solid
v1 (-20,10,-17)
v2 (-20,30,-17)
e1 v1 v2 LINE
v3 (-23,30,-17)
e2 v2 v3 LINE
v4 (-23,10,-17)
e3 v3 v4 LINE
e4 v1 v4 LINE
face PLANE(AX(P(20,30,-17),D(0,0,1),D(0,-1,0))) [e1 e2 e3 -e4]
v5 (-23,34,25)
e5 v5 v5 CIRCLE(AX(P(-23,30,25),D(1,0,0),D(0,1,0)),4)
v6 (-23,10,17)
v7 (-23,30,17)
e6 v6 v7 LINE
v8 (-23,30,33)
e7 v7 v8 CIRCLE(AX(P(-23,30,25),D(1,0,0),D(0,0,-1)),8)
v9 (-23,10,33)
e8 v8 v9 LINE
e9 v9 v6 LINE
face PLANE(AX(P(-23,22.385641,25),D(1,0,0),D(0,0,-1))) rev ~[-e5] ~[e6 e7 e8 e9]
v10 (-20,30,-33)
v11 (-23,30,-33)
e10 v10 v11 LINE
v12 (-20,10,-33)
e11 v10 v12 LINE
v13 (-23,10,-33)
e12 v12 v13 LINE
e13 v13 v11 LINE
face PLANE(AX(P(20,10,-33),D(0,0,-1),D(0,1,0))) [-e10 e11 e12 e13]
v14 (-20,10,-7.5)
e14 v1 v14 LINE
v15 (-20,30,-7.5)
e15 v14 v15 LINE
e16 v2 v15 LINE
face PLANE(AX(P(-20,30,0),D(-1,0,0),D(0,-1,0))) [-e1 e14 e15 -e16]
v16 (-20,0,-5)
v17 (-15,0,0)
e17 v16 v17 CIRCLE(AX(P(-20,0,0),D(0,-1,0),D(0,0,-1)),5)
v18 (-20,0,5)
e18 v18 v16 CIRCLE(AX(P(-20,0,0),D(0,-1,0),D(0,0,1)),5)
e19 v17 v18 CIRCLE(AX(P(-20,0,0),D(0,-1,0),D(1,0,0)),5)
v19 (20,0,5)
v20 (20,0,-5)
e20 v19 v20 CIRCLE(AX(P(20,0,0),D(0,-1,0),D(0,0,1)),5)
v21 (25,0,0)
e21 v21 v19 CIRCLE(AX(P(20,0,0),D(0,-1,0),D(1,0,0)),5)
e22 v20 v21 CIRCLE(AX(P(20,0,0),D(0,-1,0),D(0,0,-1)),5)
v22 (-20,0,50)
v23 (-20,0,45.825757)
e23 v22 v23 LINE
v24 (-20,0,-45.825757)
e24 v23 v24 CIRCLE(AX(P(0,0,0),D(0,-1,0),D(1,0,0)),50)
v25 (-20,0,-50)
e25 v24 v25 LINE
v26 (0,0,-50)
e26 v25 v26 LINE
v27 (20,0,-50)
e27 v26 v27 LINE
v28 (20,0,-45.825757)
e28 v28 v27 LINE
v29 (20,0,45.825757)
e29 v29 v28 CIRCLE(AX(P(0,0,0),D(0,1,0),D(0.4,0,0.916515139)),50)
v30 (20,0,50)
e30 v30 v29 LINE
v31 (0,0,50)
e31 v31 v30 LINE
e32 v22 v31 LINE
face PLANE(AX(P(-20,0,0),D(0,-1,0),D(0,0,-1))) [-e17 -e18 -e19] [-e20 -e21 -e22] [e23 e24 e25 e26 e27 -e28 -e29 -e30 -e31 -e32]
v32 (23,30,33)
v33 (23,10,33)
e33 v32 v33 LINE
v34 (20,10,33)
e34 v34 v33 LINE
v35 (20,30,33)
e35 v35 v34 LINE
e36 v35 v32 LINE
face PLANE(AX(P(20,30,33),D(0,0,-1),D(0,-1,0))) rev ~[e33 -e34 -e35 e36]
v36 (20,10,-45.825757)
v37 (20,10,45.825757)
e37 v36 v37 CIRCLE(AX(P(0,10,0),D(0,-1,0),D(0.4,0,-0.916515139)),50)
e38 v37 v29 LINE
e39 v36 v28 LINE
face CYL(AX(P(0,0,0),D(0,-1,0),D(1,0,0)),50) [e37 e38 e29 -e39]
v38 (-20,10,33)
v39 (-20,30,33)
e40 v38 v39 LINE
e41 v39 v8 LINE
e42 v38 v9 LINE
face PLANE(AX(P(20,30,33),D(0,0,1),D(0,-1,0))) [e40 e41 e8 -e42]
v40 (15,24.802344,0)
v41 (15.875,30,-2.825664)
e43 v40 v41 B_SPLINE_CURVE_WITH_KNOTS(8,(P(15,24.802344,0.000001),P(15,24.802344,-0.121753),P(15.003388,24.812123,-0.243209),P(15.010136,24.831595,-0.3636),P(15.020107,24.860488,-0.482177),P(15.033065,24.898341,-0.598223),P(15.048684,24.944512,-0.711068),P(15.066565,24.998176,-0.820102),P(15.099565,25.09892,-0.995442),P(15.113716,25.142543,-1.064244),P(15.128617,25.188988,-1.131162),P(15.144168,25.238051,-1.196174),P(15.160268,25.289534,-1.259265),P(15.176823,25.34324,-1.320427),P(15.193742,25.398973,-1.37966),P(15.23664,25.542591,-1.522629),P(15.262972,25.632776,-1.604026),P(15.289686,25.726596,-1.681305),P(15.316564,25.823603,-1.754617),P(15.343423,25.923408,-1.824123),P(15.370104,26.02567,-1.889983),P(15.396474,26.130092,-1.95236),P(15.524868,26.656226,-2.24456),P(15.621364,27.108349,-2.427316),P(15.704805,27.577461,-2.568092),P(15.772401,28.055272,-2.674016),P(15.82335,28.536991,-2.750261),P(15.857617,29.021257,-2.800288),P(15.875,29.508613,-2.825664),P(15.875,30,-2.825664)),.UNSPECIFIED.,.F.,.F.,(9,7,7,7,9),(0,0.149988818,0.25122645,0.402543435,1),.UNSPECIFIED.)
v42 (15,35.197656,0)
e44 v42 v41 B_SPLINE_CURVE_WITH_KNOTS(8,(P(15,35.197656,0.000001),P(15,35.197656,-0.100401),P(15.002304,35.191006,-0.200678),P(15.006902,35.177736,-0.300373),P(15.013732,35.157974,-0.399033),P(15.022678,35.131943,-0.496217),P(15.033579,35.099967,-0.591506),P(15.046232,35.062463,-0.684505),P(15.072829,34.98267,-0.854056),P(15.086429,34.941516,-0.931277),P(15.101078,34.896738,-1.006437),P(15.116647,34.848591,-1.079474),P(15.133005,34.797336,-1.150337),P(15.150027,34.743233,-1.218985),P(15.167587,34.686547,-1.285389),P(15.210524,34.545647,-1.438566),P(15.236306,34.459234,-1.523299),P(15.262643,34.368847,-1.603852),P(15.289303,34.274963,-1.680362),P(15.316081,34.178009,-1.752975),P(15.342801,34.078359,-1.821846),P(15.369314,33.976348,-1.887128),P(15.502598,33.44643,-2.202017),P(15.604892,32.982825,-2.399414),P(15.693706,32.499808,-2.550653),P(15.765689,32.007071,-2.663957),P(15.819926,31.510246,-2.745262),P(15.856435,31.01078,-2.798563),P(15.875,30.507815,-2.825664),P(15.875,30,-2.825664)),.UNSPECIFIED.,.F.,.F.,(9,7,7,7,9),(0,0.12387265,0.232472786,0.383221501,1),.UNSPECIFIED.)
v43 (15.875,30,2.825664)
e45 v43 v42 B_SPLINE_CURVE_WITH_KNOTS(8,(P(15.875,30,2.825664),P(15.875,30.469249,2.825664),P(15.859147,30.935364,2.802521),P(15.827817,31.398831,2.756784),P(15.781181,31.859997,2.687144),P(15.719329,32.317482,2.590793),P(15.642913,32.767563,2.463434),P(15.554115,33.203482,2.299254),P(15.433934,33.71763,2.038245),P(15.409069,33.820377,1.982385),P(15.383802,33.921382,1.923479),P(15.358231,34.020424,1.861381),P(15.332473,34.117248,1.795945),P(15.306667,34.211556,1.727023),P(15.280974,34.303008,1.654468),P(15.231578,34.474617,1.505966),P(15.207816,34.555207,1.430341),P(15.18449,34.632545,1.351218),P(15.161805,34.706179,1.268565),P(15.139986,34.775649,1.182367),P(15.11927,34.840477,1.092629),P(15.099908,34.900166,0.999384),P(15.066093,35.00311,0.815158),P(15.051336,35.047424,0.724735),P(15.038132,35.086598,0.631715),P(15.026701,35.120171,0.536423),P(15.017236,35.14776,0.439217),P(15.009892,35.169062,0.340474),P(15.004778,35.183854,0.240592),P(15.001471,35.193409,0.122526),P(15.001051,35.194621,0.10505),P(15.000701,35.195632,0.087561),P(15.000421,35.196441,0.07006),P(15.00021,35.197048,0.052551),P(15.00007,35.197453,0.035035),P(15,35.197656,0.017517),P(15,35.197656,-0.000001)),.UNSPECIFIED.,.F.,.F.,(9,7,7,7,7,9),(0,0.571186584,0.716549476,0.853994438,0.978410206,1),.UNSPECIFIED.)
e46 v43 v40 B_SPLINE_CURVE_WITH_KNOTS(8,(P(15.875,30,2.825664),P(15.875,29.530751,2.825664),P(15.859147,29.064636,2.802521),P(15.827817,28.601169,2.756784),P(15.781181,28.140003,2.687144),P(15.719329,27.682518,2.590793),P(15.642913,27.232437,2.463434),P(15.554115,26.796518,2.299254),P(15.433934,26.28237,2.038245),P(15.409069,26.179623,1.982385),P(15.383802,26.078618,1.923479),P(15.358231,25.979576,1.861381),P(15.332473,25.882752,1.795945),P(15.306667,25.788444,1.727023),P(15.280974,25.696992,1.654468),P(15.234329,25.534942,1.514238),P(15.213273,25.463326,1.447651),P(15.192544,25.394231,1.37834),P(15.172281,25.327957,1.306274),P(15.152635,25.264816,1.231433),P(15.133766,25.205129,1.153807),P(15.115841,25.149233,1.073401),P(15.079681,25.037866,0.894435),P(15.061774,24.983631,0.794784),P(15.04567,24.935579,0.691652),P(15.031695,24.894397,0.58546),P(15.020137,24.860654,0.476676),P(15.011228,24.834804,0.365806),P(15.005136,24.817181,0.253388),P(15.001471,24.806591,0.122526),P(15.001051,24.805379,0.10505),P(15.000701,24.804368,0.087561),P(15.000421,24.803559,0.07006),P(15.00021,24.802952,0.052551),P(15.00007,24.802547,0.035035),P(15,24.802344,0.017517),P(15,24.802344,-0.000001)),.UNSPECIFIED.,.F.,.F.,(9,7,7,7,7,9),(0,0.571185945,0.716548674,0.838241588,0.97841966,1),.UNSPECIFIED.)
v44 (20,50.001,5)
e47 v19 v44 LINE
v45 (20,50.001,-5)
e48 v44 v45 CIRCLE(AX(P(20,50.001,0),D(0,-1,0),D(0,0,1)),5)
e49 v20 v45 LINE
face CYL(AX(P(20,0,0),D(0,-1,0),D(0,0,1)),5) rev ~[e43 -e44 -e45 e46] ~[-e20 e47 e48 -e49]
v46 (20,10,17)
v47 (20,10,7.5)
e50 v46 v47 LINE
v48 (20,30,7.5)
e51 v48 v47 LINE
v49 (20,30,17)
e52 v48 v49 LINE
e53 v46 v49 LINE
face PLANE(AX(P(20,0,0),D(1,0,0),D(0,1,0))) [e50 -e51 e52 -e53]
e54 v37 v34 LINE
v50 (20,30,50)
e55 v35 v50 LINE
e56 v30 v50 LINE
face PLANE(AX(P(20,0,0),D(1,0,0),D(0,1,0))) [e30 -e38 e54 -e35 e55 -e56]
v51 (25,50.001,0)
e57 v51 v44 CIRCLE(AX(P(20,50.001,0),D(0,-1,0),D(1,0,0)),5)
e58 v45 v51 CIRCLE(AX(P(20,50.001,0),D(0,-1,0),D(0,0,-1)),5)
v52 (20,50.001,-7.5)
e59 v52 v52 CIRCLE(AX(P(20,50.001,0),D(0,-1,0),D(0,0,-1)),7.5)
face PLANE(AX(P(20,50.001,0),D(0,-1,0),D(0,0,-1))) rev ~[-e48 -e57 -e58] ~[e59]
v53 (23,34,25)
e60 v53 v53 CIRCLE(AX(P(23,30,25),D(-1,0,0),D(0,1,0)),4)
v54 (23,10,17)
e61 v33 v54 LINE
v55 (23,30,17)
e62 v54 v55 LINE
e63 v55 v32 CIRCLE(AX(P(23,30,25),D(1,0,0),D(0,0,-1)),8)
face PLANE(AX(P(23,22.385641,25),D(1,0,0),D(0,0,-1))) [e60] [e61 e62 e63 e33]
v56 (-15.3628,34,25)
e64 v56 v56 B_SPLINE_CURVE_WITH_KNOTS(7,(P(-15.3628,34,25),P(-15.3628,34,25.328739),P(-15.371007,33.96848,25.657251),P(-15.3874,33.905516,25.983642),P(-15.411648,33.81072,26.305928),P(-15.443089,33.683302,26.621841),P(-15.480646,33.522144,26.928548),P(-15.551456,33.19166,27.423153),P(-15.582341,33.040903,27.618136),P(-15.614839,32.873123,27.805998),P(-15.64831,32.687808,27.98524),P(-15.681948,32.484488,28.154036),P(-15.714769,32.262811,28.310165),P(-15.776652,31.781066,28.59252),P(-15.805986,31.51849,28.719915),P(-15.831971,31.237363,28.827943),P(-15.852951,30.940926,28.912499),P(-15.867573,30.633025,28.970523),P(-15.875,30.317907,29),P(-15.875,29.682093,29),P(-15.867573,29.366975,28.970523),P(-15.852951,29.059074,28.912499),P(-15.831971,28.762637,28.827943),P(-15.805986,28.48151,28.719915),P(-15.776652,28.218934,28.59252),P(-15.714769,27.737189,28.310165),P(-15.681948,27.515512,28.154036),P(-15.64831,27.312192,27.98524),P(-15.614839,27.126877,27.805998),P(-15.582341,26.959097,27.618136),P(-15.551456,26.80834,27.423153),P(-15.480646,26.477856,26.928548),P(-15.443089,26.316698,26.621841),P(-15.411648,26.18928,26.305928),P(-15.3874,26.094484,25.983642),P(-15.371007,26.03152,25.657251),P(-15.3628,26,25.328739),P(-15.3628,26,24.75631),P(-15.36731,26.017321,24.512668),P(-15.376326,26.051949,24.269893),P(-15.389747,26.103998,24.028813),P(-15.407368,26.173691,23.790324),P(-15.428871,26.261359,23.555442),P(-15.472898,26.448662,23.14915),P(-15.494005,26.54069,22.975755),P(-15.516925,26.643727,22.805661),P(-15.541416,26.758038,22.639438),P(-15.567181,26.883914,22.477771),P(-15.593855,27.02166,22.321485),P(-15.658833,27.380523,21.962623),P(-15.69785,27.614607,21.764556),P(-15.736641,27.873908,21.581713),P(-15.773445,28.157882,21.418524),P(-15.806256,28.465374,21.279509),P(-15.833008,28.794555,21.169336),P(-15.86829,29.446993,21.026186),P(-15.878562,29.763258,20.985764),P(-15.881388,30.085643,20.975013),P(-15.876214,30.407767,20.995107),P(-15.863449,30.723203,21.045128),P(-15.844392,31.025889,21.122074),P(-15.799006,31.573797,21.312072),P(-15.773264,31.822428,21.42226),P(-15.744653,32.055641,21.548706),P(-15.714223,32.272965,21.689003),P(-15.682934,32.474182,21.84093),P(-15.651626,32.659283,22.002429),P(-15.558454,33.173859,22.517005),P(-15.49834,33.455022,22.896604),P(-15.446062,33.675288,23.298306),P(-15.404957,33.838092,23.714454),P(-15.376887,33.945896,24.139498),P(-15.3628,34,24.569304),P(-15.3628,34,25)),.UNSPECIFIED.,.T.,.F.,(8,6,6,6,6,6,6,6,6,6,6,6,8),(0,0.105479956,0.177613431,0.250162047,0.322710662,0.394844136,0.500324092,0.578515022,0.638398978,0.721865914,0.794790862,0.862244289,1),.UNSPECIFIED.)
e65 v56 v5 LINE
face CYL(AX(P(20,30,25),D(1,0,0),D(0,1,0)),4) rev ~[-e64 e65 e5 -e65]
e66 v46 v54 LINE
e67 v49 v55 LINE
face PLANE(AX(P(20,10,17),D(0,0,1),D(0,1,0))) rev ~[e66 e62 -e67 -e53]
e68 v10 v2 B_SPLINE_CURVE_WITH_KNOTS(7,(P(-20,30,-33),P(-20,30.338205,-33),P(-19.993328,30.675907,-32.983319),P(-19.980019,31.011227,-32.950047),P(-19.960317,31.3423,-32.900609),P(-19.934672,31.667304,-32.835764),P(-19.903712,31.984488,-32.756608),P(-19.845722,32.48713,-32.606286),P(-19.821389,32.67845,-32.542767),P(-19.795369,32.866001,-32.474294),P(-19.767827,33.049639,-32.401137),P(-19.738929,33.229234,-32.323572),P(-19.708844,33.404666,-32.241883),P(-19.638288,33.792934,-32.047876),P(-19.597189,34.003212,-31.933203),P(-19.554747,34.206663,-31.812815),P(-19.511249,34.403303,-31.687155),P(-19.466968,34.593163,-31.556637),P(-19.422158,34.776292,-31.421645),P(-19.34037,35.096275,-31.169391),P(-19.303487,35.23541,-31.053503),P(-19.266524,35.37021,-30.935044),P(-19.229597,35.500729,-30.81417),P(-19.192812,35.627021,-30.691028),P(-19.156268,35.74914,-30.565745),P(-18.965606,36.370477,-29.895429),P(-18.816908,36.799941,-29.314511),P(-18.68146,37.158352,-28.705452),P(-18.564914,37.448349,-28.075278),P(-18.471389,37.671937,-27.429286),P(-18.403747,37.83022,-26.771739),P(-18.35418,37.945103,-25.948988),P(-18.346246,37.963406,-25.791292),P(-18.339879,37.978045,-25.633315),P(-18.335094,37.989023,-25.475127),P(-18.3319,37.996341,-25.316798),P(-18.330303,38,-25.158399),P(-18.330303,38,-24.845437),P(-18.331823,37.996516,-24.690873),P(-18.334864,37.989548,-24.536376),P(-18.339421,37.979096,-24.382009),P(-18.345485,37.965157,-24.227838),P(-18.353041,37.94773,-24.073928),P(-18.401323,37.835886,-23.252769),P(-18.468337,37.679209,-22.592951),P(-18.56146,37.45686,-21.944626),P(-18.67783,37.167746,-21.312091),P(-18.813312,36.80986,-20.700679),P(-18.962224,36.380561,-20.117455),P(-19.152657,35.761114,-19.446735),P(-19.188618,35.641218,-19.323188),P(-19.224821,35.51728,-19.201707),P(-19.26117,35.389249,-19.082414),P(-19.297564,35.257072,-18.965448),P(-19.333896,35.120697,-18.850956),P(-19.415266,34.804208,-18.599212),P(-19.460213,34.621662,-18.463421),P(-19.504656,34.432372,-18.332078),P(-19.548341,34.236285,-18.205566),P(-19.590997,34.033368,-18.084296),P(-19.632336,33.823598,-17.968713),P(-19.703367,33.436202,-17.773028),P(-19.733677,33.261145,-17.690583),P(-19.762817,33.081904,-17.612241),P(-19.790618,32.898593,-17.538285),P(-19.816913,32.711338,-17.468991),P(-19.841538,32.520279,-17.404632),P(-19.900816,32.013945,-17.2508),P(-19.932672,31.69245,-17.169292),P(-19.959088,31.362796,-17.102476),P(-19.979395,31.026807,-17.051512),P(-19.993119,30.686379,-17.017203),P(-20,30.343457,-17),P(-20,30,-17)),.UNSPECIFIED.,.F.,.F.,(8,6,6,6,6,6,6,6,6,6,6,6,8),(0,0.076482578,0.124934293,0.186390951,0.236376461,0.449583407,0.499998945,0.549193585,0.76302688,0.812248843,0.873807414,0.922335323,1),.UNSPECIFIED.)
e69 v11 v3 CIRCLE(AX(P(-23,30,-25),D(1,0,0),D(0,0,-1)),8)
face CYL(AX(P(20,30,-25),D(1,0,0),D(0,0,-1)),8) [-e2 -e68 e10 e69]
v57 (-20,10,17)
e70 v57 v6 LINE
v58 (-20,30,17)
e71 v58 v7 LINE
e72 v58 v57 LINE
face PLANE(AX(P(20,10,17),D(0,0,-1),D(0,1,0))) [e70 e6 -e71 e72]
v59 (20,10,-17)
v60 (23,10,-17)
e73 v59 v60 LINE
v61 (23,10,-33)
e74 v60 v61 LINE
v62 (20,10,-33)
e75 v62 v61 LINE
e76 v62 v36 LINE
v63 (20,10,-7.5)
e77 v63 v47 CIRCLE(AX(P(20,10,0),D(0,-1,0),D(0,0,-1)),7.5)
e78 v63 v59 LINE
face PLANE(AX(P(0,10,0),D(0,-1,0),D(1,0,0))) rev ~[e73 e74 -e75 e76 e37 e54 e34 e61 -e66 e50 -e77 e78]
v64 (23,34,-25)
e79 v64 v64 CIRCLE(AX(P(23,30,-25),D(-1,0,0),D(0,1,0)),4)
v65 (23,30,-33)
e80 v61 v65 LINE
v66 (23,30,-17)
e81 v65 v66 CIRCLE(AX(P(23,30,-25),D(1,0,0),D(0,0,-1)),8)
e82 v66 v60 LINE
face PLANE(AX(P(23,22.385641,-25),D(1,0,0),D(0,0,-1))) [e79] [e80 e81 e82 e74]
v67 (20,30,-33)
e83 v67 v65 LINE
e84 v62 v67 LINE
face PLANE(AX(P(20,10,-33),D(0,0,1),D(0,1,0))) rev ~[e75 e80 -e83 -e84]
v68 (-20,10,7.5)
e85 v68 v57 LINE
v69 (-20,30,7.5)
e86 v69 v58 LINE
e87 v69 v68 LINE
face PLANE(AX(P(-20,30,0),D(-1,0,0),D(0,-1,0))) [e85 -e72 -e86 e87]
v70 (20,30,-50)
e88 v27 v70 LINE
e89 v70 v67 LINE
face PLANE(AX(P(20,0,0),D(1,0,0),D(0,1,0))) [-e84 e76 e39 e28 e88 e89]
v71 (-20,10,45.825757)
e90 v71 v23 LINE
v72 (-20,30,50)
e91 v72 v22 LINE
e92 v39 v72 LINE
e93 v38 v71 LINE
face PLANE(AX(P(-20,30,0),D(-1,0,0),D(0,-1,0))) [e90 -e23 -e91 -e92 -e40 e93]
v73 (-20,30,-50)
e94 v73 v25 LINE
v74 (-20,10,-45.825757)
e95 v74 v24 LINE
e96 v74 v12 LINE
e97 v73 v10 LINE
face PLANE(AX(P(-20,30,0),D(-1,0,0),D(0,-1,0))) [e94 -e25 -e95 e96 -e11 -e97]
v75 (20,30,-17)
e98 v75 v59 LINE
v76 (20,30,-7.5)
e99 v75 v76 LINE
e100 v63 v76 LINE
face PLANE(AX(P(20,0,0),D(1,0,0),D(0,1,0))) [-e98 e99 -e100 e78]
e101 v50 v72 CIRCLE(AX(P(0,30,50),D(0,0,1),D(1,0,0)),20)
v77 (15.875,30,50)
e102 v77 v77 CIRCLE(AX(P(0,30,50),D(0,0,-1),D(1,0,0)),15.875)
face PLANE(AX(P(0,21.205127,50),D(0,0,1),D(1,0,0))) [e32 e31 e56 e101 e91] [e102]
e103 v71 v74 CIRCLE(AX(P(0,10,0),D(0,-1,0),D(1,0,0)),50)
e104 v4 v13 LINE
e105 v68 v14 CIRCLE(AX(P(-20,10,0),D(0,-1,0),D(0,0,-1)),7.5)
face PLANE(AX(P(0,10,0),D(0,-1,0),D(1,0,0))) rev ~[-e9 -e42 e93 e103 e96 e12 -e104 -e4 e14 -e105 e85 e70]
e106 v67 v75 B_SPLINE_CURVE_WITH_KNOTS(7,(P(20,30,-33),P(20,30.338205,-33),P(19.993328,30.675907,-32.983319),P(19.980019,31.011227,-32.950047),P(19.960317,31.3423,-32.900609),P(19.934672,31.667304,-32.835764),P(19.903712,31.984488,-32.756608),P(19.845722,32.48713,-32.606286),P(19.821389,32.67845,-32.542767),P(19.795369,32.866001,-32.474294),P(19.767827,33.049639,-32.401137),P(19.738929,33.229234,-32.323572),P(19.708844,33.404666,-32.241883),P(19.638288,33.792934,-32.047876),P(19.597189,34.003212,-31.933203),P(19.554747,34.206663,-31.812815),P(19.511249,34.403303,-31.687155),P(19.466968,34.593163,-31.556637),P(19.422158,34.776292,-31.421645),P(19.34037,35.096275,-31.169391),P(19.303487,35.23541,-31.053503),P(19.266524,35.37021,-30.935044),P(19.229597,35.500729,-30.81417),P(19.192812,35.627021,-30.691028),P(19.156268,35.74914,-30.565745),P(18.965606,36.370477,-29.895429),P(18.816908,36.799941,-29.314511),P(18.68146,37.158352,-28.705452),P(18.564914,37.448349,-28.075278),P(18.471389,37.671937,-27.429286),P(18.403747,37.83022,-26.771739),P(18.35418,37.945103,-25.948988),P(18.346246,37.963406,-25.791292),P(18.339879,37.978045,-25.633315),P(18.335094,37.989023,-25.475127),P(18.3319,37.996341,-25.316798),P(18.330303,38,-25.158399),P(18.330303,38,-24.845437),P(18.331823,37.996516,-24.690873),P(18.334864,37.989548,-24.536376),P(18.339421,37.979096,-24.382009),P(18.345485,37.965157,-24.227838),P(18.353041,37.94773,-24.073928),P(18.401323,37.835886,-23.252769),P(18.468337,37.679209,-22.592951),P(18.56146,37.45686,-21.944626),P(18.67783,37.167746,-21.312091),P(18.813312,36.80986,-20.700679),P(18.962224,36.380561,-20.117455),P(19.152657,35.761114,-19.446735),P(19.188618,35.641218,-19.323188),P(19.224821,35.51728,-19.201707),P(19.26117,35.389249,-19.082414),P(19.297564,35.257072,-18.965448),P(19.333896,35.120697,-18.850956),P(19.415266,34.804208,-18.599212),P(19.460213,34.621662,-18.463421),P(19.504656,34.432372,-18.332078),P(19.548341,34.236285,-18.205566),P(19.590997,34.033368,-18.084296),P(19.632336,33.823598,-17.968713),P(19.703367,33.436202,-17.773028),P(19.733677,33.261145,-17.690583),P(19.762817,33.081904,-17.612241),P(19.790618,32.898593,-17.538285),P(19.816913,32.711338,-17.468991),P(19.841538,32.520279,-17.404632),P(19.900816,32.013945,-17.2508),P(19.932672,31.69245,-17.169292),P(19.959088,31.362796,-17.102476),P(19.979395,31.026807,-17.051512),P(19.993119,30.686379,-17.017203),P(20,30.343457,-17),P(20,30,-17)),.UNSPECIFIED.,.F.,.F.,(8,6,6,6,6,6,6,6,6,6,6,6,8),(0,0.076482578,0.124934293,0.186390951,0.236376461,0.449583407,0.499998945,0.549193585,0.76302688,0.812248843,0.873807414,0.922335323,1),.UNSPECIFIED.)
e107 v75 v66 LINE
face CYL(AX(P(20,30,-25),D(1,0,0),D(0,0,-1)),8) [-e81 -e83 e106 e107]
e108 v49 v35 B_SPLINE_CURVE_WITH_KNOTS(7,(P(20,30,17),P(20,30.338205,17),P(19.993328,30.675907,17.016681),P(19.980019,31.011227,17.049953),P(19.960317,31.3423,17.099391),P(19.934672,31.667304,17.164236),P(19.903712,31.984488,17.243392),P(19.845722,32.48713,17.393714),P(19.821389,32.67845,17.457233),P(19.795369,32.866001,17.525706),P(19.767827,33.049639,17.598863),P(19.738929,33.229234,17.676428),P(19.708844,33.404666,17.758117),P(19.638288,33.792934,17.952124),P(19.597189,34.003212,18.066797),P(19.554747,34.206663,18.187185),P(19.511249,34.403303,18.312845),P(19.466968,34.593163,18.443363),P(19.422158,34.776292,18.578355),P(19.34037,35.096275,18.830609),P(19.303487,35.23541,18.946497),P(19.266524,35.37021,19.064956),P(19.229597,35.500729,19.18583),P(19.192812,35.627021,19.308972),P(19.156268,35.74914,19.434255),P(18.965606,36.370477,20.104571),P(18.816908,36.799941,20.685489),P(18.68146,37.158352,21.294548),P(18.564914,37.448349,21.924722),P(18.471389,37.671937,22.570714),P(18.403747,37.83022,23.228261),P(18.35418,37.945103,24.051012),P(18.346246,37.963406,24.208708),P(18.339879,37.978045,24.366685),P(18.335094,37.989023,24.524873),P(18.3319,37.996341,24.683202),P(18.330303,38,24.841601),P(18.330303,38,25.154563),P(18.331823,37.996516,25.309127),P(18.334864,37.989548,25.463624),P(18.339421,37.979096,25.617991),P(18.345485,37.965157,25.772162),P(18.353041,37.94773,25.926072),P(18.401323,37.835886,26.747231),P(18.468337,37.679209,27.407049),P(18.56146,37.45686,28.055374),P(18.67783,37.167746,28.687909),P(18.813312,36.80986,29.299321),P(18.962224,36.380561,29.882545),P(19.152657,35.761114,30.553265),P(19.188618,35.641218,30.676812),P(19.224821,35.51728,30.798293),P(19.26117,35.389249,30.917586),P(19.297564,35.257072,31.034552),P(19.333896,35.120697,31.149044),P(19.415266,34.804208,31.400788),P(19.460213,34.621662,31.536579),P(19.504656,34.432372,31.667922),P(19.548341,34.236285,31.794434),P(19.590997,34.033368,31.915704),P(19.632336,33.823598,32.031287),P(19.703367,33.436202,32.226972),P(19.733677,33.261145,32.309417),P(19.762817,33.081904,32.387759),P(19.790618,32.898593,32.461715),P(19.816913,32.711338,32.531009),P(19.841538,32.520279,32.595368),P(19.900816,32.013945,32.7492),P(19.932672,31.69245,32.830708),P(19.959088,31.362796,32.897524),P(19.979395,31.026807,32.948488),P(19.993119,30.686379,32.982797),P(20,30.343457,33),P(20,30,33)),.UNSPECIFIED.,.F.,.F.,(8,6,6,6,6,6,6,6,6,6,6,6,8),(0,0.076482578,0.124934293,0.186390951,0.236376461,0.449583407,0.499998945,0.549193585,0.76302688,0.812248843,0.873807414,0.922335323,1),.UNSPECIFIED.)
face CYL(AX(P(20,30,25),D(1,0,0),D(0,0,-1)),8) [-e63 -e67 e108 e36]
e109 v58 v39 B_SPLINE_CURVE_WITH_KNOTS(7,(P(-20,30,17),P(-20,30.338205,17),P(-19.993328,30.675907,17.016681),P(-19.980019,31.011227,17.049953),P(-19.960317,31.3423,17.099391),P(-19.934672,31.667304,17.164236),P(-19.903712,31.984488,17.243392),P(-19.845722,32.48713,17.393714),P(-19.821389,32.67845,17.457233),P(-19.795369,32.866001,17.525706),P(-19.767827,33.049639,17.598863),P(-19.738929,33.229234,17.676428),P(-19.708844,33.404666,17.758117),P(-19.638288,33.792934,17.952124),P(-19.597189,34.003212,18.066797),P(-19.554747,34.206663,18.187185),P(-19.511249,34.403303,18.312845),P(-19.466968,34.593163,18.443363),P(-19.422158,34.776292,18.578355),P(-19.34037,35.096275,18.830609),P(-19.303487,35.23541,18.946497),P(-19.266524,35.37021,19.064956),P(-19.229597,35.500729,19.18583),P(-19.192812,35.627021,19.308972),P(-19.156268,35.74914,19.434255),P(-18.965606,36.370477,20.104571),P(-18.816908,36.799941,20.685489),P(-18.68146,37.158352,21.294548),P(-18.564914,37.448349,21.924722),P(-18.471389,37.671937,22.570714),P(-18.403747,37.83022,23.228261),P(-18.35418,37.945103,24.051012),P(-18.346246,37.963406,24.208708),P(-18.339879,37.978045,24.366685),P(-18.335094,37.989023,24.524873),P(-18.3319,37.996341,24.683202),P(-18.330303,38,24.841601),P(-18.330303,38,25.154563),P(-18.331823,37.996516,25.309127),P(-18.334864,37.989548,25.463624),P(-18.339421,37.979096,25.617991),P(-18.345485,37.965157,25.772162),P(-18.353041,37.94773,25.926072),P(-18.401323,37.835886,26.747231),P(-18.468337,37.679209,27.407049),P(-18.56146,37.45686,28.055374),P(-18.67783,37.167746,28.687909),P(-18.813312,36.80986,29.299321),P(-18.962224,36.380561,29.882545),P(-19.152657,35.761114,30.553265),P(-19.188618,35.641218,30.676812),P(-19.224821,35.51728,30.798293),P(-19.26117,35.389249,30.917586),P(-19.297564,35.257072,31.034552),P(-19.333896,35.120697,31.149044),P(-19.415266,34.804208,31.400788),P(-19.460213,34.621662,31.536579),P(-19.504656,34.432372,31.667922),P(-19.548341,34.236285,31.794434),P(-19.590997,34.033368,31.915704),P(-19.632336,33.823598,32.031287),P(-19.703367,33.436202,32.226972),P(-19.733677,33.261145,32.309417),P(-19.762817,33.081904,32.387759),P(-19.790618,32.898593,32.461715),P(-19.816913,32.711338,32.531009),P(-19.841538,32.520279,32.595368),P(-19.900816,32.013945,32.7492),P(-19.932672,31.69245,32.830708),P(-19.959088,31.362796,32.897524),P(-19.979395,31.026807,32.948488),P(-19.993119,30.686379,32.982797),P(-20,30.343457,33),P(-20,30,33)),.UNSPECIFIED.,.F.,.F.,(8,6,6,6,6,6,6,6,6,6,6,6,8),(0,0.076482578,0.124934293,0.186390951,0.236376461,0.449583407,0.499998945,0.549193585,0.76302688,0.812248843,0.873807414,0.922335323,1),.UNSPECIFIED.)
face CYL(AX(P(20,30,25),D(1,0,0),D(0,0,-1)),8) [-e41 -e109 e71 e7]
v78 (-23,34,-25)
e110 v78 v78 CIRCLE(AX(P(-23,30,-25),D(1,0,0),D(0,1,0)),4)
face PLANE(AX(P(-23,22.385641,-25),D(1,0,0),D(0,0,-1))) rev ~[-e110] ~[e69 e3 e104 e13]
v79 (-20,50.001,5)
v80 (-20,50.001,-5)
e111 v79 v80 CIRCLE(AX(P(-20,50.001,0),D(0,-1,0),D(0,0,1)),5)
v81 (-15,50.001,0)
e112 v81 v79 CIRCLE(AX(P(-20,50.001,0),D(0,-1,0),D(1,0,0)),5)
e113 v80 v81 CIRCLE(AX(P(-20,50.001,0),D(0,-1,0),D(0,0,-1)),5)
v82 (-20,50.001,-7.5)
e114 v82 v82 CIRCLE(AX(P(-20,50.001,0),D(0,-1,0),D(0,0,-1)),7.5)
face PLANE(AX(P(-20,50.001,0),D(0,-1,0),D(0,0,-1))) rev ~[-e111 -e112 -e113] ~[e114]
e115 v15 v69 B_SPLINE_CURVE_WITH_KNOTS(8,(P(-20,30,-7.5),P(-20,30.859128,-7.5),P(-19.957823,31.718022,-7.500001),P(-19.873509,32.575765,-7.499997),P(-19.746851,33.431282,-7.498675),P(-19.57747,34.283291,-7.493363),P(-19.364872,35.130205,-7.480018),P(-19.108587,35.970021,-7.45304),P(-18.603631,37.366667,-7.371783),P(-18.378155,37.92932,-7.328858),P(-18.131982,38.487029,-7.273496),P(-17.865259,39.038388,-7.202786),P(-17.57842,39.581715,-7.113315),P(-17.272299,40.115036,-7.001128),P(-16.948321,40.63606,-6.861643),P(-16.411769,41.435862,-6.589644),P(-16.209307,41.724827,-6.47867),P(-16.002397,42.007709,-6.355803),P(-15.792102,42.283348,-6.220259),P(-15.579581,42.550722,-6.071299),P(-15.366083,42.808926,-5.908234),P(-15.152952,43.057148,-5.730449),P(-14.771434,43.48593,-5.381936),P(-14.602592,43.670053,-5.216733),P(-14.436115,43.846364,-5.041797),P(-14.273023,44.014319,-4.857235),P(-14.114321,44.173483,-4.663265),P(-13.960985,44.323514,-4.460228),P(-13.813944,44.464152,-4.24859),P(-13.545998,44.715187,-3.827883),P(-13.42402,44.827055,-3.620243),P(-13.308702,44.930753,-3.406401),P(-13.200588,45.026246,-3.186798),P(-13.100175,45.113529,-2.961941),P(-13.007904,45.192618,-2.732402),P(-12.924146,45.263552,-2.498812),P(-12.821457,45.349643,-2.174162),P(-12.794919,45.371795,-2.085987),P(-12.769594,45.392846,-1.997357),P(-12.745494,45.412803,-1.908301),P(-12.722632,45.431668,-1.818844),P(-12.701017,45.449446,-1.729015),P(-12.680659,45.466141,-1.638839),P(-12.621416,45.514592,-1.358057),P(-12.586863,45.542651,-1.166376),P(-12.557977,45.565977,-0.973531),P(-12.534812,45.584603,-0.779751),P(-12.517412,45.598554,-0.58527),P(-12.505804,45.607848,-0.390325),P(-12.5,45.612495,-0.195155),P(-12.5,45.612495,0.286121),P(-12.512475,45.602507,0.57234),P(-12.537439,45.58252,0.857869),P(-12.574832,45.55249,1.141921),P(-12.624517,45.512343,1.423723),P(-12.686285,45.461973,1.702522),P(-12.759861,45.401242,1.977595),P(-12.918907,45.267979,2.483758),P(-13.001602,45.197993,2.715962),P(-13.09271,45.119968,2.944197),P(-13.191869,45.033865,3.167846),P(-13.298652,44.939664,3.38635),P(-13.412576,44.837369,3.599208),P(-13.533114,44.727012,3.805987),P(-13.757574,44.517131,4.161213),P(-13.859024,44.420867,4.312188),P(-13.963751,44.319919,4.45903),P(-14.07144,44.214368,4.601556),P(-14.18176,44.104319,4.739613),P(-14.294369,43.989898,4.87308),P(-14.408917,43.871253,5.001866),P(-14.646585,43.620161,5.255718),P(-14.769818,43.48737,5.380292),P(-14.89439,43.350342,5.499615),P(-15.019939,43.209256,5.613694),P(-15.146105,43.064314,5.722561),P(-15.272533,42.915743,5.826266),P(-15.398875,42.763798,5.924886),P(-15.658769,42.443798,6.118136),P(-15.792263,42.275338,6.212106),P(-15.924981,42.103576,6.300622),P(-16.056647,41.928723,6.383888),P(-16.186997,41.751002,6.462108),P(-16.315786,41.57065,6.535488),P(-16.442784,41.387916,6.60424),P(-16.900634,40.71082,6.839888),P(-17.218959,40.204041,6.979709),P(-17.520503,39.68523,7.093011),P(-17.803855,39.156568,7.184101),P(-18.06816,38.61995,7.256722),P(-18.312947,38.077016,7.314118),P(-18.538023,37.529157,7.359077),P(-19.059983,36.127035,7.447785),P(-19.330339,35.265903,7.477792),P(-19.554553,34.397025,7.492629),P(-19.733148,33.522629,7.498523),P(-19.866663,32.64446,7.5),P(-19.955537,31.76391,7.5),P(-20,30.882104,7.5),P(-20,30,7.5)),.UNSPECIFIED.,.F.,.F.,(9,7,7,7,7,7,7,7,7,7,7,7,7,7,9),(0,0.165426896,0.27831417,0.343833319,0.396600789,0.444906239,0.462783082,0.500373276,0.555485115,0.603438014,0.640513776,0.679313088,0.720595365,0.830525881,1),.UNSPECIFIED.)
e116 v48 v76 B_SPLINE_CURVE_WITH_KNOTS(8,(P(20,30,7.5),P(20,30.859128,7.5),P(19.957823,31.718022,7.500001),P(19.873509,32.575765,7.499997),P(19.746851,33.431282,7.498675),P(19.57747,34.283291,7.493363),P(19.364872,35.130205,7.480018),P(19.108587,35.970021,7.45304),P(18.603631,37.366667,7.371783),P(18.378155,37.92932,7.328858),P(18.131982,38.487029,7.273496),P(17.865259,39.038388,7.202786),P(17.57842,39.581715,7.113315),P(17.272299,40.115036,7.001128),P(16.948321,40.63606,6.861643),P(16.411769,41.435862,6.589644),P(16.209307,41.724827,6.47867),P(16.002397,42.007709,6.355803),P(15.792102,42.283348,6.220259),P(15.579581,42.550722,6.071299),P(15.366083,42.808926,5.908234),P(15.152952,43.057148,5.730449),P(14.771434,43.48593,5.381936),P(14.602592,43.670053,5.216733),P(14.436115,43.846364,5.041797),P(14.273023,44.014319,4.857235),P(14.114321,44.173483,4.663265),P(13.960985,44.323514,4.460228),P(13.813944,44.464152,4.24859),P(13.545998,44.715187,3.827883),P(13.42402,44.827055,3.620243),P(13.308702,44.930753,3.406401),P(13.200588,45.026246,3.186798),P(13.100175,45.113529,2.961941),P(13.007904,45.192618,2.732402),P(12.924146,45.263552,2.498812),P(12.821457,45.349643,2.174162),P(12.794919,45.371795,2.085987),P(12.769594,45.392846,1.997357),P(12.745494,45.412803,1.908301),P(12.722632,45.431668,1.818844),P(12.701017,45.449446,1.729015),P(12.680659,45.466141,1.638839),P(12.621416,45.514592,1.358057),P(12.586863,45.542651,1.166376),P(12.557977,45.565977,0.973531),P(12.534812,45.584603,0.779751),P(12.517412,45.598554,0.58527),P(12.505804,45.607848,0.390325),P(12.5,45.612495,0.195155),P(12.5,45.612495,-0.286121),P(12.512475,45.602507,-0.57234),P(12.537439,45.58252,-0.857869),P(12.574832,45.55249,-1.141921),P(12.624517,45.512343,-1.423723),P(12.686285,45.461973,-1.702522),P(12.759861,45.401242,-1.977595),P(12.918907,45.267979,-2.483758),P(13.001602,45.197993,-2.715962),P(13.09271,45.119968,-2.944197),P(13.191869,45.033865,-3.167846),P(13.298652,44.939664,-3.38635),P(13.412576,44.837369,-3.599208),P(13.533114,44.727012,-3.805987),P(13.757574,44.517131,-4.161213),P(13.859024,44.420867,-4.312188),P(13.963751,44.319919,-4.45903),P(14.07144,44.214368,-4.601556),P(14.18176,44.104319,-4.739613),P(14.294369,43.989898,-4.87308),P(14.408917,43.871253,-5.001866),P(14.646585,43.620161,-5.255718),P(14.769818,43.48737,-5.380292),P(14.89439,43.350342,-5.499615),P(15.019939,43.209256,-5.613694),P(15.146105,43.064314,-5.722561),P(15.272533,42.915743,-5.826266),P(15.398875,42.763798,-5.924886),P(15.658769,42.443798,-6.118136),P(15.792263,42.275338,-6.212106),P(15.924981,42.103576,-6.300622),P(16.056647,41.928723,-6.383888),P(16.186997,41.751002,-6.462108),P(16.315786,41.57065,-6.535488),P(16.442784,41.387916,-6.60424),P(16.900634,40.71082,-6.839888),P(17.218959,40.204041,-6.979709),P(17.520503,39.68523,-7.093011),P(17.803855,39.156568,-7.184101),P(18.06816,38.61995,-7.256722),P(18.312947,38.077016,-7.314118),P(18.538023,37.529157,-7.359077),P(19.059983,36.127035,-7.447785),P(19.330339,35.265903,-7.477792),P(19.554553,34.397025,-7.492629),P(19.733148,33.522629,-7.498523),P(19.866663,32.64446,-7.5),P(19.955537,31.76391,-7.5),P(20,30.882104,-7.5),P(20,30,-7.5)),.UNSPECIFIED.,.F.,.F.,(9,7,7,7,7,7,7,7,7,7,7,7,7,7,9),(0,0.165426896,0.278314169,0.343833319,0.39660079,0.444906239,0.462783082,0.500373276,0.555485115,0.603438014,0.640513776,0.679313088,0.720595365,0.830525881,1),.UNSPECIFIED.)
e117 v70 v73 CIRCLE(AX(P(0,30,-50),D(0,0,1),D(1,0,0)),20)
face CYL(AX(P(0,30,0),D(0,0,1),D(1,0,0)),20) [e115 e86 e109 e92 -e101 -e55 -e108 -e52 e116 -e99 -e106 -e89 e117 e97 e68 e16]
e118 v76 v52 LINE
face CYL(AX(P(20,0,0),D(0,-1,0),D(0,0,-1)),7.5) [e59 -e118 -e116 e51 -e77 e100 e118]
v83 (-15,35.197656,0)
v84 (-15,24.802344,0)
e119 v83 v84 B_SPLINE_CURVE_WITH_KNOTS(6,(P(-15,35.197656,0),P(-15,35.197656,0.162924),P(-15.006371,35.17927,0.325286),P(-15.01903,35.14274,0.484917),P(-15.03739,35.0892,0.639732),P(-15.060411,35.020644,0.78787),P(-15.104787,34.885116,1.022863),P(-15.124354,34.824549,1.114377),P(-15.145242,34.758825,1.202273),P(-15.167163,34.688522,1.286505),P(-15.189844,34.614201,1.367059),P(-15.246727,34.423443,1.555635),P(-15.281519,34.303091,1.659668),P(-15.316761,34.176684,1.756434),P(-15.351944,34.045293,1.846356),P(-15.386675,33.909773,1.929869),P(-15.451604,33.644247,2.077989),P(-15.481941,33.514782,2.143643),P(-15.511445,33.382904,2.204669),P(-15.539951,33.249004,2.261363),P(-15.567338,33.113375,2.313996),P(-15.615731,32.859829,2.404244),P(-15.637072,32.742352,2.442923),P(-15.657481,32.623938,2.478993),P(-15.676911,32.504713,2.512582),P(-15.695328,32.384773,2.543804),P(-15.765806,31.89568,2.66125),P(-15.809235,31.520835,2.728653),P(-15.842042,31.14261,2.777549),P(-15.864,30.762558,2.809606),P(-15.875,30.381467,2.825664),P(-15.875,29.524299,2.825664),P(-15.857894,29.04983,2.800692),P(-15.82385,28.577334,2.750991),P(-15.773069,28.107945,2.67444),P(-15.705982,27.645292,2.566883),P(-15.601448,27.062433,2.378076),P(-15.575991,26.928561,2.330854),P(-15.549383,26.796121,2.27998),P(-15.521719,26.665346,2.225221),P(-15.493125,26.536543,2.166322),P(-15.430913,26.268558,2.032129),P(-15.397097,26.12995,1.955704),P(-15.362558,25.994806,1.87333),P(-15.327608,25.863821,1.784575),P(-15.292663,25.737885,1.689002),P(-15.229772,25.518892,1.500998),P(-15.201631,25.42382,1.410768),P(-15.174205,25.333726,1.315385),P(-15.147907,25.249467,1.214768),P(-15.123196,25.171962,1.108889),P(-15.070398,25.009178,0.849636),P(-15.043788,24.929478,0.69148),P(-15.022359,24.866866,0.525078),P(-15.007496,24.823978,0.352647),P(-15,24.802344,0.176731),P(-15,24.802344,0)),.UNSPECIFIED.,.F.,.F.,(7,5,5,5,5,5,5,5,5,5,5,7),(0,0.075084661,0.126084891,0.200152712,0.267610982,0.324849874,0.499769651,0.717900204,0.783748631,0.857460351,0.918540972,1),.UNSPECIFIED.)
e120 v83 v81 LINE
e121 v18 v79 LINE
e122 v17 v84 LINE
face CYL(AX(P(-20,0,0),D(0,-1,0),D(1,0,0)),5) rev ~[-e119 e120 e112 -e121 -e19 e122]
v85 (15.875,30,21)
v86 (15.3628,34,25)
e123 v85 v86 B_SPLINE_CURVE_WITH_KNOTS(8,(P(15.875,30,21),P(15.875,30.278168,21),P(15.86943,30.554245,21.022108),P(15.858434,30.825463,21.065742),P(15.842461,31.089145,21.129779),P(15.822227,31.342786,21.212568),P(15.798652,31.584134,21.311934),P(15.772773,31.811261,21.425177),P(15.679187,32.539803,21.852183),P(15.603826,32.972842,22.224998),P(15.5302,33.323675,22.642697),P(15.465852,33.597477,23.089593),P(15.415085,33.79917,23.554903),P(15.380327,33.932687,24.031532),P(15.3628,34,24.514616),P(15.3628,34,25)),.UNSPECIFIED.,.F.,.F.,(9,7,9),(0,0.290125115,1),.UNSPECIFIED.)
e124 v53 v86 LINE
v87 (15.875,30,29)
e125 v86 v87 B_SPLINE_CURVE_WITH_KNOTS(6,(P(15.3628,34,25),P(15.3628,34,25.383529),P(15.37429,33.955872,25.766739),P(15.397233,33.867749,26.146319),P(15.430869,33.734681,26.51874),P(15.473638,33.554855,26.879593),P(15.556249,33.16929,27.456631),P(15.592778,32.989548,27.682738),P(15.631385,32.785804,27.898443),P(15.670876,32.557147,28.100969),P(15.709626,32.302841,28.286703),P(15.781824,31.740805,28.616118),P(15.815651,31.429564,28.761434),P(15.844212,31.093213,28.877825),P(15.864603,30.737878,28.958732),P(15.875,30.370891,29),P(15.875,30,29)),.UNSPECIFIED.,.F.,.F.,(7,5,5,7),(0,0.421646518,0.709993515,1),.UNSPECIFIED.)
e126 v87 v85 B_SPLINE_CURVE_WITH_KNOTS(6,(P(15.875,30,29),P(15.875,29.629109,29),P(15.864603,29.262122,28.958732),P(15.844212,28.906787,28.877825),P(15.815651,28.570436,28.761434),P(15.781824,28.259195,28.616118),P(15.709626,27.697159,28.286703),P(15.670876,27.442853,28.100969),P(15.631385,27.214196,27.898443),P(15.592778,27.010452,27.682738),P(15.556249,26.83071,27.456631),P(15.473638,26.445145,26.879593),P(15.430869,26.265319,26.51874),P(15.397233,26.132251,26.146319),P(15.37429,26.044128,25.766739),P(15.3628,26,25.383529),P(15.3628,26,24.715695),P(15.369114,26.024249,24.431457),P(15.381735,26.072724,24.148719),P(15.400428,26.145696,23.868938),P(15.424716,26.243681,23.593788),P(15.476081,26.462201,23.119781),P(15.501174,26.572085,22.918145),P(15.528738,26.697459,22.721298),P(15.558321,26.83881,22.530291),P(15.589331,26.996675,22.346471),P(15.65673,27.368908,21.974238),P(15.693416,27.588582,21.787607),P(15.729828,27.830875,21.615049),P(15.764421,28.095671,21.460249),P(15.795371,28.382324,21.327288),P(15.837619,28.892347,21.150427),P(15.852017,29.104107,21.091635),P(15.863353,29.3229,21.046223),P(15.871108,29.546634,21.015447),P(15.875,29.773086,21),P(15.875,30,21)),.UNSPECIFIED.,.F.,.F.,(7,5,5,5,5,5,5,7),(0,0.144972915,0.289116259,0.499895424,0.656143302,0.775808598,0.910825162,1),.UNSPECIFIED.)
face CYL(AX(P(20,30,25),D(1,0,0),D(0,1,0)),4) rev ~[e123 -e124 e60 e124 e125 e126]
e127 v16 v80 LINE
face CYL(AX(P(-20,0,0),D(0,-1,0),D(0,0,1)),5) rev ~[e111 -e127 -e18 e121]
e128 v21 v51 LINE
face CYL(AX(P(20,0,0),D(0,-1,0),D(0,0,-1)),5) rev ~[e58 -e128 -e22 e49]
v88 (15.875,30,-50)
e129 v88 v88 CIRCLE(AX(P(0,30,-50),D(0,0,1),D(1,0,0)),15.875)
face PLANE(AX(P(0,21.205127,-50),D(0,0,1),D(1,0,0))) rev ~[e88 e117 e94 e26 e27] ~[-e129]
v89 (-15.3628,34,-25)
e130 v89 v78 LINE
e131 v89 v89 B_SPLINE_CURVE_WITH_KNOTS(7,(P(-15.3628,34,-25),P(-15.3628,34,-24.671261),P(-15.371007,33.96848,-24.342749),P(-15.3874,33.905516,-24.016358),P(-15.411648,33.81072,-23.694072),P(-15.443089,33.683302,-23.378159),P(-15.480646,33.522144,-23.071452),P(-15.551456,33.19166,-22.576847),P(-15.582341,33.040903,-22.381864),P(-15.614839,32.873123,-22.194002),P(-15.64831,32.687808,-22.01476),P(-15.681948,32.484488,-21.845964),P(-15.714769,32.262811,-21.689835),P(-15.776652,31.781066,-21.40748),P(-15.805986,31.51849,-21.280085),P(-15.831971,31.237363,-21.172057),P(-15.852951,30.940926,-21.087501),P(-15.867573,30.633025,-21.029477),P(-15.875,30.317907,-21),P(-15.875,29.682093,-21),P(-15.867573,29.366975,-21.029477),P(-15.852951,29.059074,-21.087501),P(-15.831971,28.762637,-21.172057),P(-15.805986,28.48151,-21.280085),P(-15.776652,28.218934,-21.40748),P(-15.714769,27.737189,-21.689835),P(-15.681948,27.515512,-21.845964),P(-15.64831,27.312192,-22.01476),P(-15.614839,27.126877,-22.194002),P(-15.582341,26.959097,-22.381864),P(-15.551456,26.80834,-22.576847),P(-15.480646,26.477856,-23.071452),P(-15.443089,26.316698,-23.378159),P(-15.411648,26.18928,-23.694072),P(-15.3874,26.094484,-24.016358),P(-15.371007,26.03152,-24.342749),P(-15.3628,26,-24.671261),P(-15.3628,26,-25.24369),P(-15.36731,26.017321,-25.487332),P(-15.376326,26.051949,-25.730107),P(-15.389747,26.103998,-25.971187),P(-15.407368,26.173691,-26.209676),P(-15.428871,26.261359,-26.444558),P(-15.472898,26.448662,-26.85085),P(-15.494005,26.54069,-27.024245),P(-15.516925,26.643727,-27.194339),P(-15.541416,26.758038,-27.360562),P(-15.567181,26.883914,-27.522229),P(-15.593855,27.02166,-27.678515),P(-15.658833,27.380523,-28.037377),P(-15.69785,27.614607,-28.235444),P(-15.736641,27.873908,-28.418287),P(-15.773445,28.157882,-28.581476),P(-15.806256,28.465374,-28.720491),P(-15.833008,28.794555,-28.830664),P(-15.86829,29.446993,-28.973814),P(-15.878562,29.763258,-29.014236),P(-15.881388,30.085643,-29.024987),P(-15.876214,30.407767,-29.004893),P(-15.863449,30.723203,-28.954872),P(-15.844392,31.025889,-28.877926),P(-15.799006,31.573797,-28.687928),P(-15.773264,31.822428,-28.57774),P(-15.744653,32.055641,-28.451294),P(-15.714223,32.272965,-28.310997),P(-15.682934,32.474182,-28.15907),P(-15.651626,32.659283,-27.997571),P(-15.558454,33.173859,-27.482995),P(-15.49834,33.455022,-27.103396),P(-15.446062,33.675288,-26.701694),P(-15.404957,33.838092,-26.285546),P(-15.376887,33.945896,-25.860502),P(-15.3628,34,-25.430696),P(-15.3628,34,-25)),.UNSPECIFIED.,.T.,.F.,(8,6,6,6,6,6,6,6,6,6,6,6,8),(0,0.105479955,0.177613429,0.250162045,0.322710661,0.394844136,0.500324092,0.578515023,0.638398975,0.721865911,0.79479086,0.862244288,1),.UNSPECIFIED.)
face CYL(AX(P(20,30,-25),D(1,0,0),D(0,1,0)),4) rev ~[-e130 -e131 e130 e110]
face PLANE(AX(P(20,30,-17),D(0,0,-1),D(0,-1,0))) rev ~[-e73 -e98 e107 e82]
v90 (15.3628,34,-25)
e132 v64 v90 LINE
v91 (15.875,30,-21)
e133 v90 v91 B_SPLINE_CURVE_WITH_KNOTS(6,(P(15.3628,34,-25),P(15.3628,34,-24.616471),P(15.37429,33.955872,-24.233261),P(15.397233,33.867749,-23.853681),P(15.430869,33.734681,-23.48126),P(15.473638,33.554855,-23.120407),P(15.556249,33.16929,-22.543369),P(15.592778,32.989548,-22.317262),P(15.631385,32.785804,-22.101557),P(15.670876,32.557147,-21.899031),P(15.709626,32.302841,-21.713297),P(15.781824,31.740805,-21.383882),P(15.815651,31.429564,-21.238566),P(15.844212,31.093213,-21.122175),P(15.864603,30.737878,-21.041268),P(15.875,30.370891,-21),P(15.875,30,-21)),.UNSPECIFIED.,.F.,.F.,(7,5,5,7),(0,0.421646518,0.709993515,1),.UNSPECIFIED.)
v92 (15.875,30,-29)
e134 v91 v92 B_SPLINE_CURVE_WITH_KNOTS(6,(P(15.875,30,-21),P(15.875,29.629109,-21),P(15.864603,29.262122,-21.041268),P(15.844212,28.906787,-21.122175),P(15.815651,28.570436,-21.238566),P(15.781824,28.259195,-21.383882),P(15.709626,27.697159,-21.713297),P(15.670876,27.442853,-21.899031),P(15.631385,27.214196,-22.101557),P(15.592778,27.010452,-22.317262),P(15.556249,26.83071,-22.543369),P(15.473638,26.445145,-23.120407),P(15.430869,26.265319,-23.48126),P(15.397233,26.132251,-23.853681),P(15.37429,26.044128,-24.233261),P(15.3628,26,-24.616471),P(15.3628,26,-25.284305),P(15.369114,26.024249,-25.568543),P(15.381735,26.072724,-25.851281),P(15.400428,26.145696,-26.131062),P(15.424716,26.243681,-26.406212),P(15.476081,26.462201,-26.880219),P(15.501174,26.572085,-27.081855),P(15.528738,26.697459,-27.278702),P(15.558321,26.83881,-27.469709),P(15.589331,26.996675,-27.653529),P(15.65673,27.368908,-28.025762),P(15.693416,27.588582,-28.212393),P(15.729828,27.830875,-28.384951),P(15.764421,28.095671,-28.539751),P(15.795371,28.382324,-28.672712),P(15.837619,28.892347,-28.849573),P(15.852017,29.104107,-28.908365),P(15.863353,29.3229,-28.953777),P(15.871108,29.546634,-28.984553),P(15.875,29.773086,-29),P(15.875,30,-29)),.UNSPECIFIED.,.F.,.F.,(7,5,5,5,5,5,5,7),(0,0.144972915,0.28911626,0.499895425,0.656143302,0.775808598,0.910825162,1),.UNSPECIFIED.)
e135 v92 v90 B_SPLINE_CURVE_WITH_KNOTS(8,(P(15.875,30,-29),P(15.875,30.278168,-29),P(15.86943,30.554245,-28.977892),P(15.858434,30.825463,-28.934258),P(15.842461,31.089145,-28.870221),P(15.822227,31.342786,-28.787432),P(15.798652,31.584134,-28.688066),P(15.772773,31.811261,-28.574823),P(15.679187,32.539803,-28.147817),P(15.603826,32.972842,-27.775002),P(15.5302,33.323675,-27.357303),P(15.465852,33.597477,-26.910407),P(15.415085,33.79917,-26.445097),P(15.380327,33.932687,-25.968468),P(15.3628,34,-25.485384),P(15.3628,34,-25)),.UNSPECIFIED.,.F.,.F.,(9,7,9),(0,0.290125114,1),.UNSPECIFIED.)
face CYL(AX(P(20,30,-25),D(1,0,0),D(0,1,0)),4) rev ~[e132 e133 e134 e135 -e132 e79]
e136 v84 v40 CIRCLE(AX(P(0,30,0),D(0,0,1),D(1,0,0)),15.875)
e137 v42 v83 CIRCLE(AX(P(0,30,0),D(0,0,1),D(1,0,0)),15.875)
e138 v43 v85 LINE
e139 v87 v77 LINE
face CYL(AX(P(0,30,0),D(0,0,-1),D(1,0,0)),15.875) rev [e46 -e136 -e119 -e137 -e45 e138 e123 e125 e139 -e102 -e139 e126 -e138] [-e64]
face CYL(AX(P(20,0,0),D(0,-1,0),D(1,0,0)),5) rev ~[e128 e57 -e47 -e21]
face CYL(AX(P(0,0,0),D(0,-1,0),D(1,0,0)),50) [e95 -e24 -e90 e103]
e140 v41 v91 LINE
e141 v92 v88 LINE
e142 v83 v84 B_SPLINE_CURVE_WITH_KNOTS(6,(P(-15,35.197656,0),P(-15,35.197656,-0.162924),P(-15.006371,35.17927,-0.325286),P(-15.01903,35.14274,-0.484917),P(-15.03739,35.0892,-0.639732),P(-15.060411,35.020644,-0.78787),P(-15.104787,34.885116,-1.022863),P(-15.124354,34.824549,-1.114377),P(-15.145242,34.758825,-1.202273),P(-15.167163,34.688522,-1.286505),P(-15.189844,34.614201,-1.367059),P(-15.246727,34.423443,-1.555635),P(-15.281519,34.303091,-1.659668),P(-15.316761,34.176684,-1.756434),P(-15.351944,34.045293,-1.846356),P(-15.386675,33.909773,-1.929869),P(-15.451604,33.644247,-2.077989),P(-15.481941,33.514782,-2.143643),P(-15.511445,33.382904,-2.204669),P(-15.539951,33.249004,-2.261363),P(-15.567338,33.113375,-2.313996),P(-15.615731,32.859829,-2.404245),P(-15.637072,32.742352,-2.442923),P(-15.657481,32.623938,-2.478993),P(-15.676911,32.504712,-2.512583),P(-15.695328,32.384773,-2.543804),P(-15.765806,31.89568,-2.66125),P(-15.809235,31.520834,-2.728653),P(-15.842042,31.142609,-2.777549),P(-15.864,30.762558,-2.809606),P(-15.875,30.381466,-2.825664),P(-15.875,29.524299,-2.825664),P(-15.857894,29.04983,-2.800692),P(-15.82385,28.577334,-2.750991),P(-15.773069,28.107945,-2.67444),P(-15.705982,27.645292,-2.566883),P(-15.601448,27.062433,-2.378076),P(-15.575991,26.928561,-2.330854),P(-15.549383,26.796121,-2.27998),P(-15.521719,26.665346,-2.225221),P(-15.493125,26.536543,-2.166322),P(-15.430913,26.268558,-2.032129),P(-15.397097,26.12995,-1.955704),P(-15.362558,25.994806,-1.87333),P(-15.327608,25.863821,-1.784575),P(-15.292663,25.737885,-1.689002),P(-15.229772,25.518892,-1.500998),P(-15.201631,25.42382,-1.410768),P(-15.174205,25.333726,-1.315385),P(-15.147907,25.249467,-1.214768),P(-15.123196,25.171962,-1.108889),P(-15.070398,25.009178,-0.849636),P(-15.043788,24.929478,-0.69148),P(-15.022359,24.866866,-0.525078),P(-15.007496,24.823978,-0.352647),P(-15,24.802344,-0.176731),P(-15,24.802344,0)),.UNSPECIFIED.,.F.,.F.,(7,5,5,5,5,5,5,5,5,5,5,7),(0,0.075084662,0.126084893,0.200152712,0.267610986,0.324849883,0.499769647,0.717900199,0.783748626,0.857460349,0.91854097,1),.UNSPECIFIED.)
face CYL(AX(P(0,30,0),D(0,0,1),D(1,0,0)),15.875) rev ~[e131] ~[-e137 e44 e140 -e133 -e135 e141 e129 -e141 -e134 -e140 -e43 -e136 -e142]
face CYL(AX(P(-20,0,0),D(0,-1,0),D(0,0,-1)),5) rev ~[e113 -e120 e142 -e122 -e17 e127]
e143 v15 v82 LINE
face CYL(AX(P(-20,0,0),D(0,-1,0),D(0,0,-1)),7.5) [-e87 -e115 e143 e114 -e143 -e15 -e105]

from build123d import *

# Parameters (mm, degrees)
SKETCH1_R               = 15.875
EXTRUDE1_DEPTH          = 50
SKETCH2_R               = 50
EXTRUDE2_DEPTH          = 10
SKETCH2_3_R             = 7.5
EXTRUDE3_DEPTH          = 50.001
EXTRUDE4_DEPTH          = 3
EXTRUDE4_DEPTH_BACK     = 43
SKETCH6_4_R             = 4
CUT_EXTRUDE1_DEPTH      = 31
CUT_EXTRUDE1_DEPTH_BACK = 71
CUT_EXTRUDE2_DEPTH      = 51.0010001
SKETCH1_3_R             = 15.875
CUT_EXTRUDE3_DEPTH      = 51.0000001
CUT_EXTRUDE3_DEPTH_BACK = 51.0000001


with BuildPart() as part:
    # Sketch1 → Extrude1 (new body, symmetric)
    with BuildSketch(Plane.XY):
        with BuildLine():
            Line((20, 0), (20, 30))
            ThreePointArc((20, 30), (0, 50), (-20, 30))
            Line((-20, 30), (-20, 0))
            Line((-20, 0), (20, 0))
        make_face()
        with Locations((0, 30)):
            Circle(SKETCH1_R, mode=Mode.SUBTRACT)
        with Locations((0, 30)):
            Circle(SKETCH1_R)
    extrude(amount=EXTRUDE1_DEPTH, both=True)

    # Sketch2 → Extrude2 (add)
    with BuildSketch(Plane.XZ):
        Circle(SKETCH2_R)
    extrude(amount=-EXTRUDE2_DEPTH)

    # Sketch2_3 → Extrude3 (add)
    with BuildSketch(Plane.XZ):
        with Locations(Location((-20, 0, 0), (0, 0, 270))):  # turned: the seam where the file's is
            Circle(SKETCH2_3_R)
        with Locations(Location((20, 0, 0), (0, 0, 270))):  # turned: the seam where the file's is
            Circle(SKETCH2_3_R)
    extrude(amount=-EXTRUDE3_DEPTH)

    # Sketch3 → Extrude4 (add, two sides)
    with BuildSketch(Plane(origin=(20, 0, 0), x_dir=(0, 0, -1), z_dir=(1, 0, 0))) as extrude4_sk:
        with BuildLine():
            Line((-33, 30), (-33, 10))
            Line((-33, 10), (-17, 10))
            Line((-17, 10), (-17, 30))
            ThreePointArc((-17, 30), (-25, 38), (-33, 30))
        make_face()
        with BuildLine():
            Line((17, 30), (17, 10))
            Line((17, 10), (33, 10))
            Line((33, 10), (33, 30))
            ThreePointArc((33, 30), (25, 38), (17, 30))
        make_face()
    extrude(amount=EXTRUDE4_DEPTH)
    extrude(extrude4_sk.sketch, amount=-EXTRUDE4_DEPTH_BACK)

    # Sketch6_4 → Cut-Extrude1 (cut, two sides)
    with BuildSketch(Plane(origin=(20, 0, 0), x_dir=(0, 0, -1), z_dir=(1, 0, 0))) as cut_extrude1_sk:
        with Locations(Location((-25, 30, 0), (0, 0, 90))):  # turned: the seam where the file's is
            Circle(SKETCH6_4_R)
        with Locations(Location((25, 30, 0), (0, 0, 90))):  # turned: the seam where the file's is
            Circle(SKETCH6_4_R)
    extrude(amount=CUT_EXTRUDE1_DEPTH, mode=Mode.SUBTRACT)
    extrude(cut_extrude1_sk.sketch, amount=-CUT_EXTRUDE1_DEPTH_BACK, mode=Mode.SUBTRACT)

    # Sketch2_4 → Cut-Extrude2 (cut, through all)
    with BuildSketch(Plane.XZ):
        with BuildLine():
            Line((20, -5), (20, 5))
            ThreePointArc((20, 5), (15, 0), (20, -5))
        make_face()
        with BuildLine():
            ThreePointArc((25, 0), (23.535533906, 3.535533906), (20, 5))
            Line((20, 5), (20, -5))
            ThreePointArc((20, -5), (23.535533906, -3.535533906), (25, 0))
        make_face()
        with BuildLine():
            Line((20, -5), (20, 5))
            ThreePointArc((20, 5), (15, 0), (20, -5))
        make_face()
        with BuildLine():
            ThreePointArc((25, 0), (23.535533906, 3.535533906), (20, 5))
            Line((20, 5), (20, -5))
            ThreePointArc((20, -5), (23.535533906, -3.535533906), (25, 0))
        make_face()
        with BuildLine():
            Line((-20, -5), (-20, 5))
            ThreePointArc((-20, 5), (-25, 0), (-20, -5))
        make_face()
        with BuildLine():
            ThreePointArc((-15, 0), (-16.464466094, 3.535533906), (-20, 5))
            Line((-20, 5), (-20, -5))
            ThreePointArc((-20, -5), (-16.464466094, -3.535533906), (-15, 0))
        make_face()
        with BuildLine():
            Line((-20, -5), (-20, 5))
            ThreePointArc((-20, 5), (-25, 0), (-20, -5))
        make_face()
        with BuildLine():
            ThreePointArc((-15, 0), (-16.464466094, 3.535533906), (-20, 5))
            Line((-20, 5), (-20, -5))
            ThreePointArc((-20, -5), (-16.464466094, -3.535533906), (-15, 0))
        make_face()
    extrude(amount=-CUT_EXTRUDE2_DEPTH, mode=Mode.SUBTRACT)

    # Sketch1_3 → Cut-Extrude3 (cut, two sides)
    with BuildSketch(Plane.XY) as cut_extrude3_sk:
        with Locations((0, 30)):
            Circle(SKETCH1_3_R)
    extrude(amount=CUT_EXTRUDE3_DEPTH, mode=Mode.SUBTRACT)
    extrude(cut_extrude3_sk.sketch, amount=-CUT_EXTRUDE3_DEPTH_BACK, mode=Mode.SUBTRACT)


solid = part.part
